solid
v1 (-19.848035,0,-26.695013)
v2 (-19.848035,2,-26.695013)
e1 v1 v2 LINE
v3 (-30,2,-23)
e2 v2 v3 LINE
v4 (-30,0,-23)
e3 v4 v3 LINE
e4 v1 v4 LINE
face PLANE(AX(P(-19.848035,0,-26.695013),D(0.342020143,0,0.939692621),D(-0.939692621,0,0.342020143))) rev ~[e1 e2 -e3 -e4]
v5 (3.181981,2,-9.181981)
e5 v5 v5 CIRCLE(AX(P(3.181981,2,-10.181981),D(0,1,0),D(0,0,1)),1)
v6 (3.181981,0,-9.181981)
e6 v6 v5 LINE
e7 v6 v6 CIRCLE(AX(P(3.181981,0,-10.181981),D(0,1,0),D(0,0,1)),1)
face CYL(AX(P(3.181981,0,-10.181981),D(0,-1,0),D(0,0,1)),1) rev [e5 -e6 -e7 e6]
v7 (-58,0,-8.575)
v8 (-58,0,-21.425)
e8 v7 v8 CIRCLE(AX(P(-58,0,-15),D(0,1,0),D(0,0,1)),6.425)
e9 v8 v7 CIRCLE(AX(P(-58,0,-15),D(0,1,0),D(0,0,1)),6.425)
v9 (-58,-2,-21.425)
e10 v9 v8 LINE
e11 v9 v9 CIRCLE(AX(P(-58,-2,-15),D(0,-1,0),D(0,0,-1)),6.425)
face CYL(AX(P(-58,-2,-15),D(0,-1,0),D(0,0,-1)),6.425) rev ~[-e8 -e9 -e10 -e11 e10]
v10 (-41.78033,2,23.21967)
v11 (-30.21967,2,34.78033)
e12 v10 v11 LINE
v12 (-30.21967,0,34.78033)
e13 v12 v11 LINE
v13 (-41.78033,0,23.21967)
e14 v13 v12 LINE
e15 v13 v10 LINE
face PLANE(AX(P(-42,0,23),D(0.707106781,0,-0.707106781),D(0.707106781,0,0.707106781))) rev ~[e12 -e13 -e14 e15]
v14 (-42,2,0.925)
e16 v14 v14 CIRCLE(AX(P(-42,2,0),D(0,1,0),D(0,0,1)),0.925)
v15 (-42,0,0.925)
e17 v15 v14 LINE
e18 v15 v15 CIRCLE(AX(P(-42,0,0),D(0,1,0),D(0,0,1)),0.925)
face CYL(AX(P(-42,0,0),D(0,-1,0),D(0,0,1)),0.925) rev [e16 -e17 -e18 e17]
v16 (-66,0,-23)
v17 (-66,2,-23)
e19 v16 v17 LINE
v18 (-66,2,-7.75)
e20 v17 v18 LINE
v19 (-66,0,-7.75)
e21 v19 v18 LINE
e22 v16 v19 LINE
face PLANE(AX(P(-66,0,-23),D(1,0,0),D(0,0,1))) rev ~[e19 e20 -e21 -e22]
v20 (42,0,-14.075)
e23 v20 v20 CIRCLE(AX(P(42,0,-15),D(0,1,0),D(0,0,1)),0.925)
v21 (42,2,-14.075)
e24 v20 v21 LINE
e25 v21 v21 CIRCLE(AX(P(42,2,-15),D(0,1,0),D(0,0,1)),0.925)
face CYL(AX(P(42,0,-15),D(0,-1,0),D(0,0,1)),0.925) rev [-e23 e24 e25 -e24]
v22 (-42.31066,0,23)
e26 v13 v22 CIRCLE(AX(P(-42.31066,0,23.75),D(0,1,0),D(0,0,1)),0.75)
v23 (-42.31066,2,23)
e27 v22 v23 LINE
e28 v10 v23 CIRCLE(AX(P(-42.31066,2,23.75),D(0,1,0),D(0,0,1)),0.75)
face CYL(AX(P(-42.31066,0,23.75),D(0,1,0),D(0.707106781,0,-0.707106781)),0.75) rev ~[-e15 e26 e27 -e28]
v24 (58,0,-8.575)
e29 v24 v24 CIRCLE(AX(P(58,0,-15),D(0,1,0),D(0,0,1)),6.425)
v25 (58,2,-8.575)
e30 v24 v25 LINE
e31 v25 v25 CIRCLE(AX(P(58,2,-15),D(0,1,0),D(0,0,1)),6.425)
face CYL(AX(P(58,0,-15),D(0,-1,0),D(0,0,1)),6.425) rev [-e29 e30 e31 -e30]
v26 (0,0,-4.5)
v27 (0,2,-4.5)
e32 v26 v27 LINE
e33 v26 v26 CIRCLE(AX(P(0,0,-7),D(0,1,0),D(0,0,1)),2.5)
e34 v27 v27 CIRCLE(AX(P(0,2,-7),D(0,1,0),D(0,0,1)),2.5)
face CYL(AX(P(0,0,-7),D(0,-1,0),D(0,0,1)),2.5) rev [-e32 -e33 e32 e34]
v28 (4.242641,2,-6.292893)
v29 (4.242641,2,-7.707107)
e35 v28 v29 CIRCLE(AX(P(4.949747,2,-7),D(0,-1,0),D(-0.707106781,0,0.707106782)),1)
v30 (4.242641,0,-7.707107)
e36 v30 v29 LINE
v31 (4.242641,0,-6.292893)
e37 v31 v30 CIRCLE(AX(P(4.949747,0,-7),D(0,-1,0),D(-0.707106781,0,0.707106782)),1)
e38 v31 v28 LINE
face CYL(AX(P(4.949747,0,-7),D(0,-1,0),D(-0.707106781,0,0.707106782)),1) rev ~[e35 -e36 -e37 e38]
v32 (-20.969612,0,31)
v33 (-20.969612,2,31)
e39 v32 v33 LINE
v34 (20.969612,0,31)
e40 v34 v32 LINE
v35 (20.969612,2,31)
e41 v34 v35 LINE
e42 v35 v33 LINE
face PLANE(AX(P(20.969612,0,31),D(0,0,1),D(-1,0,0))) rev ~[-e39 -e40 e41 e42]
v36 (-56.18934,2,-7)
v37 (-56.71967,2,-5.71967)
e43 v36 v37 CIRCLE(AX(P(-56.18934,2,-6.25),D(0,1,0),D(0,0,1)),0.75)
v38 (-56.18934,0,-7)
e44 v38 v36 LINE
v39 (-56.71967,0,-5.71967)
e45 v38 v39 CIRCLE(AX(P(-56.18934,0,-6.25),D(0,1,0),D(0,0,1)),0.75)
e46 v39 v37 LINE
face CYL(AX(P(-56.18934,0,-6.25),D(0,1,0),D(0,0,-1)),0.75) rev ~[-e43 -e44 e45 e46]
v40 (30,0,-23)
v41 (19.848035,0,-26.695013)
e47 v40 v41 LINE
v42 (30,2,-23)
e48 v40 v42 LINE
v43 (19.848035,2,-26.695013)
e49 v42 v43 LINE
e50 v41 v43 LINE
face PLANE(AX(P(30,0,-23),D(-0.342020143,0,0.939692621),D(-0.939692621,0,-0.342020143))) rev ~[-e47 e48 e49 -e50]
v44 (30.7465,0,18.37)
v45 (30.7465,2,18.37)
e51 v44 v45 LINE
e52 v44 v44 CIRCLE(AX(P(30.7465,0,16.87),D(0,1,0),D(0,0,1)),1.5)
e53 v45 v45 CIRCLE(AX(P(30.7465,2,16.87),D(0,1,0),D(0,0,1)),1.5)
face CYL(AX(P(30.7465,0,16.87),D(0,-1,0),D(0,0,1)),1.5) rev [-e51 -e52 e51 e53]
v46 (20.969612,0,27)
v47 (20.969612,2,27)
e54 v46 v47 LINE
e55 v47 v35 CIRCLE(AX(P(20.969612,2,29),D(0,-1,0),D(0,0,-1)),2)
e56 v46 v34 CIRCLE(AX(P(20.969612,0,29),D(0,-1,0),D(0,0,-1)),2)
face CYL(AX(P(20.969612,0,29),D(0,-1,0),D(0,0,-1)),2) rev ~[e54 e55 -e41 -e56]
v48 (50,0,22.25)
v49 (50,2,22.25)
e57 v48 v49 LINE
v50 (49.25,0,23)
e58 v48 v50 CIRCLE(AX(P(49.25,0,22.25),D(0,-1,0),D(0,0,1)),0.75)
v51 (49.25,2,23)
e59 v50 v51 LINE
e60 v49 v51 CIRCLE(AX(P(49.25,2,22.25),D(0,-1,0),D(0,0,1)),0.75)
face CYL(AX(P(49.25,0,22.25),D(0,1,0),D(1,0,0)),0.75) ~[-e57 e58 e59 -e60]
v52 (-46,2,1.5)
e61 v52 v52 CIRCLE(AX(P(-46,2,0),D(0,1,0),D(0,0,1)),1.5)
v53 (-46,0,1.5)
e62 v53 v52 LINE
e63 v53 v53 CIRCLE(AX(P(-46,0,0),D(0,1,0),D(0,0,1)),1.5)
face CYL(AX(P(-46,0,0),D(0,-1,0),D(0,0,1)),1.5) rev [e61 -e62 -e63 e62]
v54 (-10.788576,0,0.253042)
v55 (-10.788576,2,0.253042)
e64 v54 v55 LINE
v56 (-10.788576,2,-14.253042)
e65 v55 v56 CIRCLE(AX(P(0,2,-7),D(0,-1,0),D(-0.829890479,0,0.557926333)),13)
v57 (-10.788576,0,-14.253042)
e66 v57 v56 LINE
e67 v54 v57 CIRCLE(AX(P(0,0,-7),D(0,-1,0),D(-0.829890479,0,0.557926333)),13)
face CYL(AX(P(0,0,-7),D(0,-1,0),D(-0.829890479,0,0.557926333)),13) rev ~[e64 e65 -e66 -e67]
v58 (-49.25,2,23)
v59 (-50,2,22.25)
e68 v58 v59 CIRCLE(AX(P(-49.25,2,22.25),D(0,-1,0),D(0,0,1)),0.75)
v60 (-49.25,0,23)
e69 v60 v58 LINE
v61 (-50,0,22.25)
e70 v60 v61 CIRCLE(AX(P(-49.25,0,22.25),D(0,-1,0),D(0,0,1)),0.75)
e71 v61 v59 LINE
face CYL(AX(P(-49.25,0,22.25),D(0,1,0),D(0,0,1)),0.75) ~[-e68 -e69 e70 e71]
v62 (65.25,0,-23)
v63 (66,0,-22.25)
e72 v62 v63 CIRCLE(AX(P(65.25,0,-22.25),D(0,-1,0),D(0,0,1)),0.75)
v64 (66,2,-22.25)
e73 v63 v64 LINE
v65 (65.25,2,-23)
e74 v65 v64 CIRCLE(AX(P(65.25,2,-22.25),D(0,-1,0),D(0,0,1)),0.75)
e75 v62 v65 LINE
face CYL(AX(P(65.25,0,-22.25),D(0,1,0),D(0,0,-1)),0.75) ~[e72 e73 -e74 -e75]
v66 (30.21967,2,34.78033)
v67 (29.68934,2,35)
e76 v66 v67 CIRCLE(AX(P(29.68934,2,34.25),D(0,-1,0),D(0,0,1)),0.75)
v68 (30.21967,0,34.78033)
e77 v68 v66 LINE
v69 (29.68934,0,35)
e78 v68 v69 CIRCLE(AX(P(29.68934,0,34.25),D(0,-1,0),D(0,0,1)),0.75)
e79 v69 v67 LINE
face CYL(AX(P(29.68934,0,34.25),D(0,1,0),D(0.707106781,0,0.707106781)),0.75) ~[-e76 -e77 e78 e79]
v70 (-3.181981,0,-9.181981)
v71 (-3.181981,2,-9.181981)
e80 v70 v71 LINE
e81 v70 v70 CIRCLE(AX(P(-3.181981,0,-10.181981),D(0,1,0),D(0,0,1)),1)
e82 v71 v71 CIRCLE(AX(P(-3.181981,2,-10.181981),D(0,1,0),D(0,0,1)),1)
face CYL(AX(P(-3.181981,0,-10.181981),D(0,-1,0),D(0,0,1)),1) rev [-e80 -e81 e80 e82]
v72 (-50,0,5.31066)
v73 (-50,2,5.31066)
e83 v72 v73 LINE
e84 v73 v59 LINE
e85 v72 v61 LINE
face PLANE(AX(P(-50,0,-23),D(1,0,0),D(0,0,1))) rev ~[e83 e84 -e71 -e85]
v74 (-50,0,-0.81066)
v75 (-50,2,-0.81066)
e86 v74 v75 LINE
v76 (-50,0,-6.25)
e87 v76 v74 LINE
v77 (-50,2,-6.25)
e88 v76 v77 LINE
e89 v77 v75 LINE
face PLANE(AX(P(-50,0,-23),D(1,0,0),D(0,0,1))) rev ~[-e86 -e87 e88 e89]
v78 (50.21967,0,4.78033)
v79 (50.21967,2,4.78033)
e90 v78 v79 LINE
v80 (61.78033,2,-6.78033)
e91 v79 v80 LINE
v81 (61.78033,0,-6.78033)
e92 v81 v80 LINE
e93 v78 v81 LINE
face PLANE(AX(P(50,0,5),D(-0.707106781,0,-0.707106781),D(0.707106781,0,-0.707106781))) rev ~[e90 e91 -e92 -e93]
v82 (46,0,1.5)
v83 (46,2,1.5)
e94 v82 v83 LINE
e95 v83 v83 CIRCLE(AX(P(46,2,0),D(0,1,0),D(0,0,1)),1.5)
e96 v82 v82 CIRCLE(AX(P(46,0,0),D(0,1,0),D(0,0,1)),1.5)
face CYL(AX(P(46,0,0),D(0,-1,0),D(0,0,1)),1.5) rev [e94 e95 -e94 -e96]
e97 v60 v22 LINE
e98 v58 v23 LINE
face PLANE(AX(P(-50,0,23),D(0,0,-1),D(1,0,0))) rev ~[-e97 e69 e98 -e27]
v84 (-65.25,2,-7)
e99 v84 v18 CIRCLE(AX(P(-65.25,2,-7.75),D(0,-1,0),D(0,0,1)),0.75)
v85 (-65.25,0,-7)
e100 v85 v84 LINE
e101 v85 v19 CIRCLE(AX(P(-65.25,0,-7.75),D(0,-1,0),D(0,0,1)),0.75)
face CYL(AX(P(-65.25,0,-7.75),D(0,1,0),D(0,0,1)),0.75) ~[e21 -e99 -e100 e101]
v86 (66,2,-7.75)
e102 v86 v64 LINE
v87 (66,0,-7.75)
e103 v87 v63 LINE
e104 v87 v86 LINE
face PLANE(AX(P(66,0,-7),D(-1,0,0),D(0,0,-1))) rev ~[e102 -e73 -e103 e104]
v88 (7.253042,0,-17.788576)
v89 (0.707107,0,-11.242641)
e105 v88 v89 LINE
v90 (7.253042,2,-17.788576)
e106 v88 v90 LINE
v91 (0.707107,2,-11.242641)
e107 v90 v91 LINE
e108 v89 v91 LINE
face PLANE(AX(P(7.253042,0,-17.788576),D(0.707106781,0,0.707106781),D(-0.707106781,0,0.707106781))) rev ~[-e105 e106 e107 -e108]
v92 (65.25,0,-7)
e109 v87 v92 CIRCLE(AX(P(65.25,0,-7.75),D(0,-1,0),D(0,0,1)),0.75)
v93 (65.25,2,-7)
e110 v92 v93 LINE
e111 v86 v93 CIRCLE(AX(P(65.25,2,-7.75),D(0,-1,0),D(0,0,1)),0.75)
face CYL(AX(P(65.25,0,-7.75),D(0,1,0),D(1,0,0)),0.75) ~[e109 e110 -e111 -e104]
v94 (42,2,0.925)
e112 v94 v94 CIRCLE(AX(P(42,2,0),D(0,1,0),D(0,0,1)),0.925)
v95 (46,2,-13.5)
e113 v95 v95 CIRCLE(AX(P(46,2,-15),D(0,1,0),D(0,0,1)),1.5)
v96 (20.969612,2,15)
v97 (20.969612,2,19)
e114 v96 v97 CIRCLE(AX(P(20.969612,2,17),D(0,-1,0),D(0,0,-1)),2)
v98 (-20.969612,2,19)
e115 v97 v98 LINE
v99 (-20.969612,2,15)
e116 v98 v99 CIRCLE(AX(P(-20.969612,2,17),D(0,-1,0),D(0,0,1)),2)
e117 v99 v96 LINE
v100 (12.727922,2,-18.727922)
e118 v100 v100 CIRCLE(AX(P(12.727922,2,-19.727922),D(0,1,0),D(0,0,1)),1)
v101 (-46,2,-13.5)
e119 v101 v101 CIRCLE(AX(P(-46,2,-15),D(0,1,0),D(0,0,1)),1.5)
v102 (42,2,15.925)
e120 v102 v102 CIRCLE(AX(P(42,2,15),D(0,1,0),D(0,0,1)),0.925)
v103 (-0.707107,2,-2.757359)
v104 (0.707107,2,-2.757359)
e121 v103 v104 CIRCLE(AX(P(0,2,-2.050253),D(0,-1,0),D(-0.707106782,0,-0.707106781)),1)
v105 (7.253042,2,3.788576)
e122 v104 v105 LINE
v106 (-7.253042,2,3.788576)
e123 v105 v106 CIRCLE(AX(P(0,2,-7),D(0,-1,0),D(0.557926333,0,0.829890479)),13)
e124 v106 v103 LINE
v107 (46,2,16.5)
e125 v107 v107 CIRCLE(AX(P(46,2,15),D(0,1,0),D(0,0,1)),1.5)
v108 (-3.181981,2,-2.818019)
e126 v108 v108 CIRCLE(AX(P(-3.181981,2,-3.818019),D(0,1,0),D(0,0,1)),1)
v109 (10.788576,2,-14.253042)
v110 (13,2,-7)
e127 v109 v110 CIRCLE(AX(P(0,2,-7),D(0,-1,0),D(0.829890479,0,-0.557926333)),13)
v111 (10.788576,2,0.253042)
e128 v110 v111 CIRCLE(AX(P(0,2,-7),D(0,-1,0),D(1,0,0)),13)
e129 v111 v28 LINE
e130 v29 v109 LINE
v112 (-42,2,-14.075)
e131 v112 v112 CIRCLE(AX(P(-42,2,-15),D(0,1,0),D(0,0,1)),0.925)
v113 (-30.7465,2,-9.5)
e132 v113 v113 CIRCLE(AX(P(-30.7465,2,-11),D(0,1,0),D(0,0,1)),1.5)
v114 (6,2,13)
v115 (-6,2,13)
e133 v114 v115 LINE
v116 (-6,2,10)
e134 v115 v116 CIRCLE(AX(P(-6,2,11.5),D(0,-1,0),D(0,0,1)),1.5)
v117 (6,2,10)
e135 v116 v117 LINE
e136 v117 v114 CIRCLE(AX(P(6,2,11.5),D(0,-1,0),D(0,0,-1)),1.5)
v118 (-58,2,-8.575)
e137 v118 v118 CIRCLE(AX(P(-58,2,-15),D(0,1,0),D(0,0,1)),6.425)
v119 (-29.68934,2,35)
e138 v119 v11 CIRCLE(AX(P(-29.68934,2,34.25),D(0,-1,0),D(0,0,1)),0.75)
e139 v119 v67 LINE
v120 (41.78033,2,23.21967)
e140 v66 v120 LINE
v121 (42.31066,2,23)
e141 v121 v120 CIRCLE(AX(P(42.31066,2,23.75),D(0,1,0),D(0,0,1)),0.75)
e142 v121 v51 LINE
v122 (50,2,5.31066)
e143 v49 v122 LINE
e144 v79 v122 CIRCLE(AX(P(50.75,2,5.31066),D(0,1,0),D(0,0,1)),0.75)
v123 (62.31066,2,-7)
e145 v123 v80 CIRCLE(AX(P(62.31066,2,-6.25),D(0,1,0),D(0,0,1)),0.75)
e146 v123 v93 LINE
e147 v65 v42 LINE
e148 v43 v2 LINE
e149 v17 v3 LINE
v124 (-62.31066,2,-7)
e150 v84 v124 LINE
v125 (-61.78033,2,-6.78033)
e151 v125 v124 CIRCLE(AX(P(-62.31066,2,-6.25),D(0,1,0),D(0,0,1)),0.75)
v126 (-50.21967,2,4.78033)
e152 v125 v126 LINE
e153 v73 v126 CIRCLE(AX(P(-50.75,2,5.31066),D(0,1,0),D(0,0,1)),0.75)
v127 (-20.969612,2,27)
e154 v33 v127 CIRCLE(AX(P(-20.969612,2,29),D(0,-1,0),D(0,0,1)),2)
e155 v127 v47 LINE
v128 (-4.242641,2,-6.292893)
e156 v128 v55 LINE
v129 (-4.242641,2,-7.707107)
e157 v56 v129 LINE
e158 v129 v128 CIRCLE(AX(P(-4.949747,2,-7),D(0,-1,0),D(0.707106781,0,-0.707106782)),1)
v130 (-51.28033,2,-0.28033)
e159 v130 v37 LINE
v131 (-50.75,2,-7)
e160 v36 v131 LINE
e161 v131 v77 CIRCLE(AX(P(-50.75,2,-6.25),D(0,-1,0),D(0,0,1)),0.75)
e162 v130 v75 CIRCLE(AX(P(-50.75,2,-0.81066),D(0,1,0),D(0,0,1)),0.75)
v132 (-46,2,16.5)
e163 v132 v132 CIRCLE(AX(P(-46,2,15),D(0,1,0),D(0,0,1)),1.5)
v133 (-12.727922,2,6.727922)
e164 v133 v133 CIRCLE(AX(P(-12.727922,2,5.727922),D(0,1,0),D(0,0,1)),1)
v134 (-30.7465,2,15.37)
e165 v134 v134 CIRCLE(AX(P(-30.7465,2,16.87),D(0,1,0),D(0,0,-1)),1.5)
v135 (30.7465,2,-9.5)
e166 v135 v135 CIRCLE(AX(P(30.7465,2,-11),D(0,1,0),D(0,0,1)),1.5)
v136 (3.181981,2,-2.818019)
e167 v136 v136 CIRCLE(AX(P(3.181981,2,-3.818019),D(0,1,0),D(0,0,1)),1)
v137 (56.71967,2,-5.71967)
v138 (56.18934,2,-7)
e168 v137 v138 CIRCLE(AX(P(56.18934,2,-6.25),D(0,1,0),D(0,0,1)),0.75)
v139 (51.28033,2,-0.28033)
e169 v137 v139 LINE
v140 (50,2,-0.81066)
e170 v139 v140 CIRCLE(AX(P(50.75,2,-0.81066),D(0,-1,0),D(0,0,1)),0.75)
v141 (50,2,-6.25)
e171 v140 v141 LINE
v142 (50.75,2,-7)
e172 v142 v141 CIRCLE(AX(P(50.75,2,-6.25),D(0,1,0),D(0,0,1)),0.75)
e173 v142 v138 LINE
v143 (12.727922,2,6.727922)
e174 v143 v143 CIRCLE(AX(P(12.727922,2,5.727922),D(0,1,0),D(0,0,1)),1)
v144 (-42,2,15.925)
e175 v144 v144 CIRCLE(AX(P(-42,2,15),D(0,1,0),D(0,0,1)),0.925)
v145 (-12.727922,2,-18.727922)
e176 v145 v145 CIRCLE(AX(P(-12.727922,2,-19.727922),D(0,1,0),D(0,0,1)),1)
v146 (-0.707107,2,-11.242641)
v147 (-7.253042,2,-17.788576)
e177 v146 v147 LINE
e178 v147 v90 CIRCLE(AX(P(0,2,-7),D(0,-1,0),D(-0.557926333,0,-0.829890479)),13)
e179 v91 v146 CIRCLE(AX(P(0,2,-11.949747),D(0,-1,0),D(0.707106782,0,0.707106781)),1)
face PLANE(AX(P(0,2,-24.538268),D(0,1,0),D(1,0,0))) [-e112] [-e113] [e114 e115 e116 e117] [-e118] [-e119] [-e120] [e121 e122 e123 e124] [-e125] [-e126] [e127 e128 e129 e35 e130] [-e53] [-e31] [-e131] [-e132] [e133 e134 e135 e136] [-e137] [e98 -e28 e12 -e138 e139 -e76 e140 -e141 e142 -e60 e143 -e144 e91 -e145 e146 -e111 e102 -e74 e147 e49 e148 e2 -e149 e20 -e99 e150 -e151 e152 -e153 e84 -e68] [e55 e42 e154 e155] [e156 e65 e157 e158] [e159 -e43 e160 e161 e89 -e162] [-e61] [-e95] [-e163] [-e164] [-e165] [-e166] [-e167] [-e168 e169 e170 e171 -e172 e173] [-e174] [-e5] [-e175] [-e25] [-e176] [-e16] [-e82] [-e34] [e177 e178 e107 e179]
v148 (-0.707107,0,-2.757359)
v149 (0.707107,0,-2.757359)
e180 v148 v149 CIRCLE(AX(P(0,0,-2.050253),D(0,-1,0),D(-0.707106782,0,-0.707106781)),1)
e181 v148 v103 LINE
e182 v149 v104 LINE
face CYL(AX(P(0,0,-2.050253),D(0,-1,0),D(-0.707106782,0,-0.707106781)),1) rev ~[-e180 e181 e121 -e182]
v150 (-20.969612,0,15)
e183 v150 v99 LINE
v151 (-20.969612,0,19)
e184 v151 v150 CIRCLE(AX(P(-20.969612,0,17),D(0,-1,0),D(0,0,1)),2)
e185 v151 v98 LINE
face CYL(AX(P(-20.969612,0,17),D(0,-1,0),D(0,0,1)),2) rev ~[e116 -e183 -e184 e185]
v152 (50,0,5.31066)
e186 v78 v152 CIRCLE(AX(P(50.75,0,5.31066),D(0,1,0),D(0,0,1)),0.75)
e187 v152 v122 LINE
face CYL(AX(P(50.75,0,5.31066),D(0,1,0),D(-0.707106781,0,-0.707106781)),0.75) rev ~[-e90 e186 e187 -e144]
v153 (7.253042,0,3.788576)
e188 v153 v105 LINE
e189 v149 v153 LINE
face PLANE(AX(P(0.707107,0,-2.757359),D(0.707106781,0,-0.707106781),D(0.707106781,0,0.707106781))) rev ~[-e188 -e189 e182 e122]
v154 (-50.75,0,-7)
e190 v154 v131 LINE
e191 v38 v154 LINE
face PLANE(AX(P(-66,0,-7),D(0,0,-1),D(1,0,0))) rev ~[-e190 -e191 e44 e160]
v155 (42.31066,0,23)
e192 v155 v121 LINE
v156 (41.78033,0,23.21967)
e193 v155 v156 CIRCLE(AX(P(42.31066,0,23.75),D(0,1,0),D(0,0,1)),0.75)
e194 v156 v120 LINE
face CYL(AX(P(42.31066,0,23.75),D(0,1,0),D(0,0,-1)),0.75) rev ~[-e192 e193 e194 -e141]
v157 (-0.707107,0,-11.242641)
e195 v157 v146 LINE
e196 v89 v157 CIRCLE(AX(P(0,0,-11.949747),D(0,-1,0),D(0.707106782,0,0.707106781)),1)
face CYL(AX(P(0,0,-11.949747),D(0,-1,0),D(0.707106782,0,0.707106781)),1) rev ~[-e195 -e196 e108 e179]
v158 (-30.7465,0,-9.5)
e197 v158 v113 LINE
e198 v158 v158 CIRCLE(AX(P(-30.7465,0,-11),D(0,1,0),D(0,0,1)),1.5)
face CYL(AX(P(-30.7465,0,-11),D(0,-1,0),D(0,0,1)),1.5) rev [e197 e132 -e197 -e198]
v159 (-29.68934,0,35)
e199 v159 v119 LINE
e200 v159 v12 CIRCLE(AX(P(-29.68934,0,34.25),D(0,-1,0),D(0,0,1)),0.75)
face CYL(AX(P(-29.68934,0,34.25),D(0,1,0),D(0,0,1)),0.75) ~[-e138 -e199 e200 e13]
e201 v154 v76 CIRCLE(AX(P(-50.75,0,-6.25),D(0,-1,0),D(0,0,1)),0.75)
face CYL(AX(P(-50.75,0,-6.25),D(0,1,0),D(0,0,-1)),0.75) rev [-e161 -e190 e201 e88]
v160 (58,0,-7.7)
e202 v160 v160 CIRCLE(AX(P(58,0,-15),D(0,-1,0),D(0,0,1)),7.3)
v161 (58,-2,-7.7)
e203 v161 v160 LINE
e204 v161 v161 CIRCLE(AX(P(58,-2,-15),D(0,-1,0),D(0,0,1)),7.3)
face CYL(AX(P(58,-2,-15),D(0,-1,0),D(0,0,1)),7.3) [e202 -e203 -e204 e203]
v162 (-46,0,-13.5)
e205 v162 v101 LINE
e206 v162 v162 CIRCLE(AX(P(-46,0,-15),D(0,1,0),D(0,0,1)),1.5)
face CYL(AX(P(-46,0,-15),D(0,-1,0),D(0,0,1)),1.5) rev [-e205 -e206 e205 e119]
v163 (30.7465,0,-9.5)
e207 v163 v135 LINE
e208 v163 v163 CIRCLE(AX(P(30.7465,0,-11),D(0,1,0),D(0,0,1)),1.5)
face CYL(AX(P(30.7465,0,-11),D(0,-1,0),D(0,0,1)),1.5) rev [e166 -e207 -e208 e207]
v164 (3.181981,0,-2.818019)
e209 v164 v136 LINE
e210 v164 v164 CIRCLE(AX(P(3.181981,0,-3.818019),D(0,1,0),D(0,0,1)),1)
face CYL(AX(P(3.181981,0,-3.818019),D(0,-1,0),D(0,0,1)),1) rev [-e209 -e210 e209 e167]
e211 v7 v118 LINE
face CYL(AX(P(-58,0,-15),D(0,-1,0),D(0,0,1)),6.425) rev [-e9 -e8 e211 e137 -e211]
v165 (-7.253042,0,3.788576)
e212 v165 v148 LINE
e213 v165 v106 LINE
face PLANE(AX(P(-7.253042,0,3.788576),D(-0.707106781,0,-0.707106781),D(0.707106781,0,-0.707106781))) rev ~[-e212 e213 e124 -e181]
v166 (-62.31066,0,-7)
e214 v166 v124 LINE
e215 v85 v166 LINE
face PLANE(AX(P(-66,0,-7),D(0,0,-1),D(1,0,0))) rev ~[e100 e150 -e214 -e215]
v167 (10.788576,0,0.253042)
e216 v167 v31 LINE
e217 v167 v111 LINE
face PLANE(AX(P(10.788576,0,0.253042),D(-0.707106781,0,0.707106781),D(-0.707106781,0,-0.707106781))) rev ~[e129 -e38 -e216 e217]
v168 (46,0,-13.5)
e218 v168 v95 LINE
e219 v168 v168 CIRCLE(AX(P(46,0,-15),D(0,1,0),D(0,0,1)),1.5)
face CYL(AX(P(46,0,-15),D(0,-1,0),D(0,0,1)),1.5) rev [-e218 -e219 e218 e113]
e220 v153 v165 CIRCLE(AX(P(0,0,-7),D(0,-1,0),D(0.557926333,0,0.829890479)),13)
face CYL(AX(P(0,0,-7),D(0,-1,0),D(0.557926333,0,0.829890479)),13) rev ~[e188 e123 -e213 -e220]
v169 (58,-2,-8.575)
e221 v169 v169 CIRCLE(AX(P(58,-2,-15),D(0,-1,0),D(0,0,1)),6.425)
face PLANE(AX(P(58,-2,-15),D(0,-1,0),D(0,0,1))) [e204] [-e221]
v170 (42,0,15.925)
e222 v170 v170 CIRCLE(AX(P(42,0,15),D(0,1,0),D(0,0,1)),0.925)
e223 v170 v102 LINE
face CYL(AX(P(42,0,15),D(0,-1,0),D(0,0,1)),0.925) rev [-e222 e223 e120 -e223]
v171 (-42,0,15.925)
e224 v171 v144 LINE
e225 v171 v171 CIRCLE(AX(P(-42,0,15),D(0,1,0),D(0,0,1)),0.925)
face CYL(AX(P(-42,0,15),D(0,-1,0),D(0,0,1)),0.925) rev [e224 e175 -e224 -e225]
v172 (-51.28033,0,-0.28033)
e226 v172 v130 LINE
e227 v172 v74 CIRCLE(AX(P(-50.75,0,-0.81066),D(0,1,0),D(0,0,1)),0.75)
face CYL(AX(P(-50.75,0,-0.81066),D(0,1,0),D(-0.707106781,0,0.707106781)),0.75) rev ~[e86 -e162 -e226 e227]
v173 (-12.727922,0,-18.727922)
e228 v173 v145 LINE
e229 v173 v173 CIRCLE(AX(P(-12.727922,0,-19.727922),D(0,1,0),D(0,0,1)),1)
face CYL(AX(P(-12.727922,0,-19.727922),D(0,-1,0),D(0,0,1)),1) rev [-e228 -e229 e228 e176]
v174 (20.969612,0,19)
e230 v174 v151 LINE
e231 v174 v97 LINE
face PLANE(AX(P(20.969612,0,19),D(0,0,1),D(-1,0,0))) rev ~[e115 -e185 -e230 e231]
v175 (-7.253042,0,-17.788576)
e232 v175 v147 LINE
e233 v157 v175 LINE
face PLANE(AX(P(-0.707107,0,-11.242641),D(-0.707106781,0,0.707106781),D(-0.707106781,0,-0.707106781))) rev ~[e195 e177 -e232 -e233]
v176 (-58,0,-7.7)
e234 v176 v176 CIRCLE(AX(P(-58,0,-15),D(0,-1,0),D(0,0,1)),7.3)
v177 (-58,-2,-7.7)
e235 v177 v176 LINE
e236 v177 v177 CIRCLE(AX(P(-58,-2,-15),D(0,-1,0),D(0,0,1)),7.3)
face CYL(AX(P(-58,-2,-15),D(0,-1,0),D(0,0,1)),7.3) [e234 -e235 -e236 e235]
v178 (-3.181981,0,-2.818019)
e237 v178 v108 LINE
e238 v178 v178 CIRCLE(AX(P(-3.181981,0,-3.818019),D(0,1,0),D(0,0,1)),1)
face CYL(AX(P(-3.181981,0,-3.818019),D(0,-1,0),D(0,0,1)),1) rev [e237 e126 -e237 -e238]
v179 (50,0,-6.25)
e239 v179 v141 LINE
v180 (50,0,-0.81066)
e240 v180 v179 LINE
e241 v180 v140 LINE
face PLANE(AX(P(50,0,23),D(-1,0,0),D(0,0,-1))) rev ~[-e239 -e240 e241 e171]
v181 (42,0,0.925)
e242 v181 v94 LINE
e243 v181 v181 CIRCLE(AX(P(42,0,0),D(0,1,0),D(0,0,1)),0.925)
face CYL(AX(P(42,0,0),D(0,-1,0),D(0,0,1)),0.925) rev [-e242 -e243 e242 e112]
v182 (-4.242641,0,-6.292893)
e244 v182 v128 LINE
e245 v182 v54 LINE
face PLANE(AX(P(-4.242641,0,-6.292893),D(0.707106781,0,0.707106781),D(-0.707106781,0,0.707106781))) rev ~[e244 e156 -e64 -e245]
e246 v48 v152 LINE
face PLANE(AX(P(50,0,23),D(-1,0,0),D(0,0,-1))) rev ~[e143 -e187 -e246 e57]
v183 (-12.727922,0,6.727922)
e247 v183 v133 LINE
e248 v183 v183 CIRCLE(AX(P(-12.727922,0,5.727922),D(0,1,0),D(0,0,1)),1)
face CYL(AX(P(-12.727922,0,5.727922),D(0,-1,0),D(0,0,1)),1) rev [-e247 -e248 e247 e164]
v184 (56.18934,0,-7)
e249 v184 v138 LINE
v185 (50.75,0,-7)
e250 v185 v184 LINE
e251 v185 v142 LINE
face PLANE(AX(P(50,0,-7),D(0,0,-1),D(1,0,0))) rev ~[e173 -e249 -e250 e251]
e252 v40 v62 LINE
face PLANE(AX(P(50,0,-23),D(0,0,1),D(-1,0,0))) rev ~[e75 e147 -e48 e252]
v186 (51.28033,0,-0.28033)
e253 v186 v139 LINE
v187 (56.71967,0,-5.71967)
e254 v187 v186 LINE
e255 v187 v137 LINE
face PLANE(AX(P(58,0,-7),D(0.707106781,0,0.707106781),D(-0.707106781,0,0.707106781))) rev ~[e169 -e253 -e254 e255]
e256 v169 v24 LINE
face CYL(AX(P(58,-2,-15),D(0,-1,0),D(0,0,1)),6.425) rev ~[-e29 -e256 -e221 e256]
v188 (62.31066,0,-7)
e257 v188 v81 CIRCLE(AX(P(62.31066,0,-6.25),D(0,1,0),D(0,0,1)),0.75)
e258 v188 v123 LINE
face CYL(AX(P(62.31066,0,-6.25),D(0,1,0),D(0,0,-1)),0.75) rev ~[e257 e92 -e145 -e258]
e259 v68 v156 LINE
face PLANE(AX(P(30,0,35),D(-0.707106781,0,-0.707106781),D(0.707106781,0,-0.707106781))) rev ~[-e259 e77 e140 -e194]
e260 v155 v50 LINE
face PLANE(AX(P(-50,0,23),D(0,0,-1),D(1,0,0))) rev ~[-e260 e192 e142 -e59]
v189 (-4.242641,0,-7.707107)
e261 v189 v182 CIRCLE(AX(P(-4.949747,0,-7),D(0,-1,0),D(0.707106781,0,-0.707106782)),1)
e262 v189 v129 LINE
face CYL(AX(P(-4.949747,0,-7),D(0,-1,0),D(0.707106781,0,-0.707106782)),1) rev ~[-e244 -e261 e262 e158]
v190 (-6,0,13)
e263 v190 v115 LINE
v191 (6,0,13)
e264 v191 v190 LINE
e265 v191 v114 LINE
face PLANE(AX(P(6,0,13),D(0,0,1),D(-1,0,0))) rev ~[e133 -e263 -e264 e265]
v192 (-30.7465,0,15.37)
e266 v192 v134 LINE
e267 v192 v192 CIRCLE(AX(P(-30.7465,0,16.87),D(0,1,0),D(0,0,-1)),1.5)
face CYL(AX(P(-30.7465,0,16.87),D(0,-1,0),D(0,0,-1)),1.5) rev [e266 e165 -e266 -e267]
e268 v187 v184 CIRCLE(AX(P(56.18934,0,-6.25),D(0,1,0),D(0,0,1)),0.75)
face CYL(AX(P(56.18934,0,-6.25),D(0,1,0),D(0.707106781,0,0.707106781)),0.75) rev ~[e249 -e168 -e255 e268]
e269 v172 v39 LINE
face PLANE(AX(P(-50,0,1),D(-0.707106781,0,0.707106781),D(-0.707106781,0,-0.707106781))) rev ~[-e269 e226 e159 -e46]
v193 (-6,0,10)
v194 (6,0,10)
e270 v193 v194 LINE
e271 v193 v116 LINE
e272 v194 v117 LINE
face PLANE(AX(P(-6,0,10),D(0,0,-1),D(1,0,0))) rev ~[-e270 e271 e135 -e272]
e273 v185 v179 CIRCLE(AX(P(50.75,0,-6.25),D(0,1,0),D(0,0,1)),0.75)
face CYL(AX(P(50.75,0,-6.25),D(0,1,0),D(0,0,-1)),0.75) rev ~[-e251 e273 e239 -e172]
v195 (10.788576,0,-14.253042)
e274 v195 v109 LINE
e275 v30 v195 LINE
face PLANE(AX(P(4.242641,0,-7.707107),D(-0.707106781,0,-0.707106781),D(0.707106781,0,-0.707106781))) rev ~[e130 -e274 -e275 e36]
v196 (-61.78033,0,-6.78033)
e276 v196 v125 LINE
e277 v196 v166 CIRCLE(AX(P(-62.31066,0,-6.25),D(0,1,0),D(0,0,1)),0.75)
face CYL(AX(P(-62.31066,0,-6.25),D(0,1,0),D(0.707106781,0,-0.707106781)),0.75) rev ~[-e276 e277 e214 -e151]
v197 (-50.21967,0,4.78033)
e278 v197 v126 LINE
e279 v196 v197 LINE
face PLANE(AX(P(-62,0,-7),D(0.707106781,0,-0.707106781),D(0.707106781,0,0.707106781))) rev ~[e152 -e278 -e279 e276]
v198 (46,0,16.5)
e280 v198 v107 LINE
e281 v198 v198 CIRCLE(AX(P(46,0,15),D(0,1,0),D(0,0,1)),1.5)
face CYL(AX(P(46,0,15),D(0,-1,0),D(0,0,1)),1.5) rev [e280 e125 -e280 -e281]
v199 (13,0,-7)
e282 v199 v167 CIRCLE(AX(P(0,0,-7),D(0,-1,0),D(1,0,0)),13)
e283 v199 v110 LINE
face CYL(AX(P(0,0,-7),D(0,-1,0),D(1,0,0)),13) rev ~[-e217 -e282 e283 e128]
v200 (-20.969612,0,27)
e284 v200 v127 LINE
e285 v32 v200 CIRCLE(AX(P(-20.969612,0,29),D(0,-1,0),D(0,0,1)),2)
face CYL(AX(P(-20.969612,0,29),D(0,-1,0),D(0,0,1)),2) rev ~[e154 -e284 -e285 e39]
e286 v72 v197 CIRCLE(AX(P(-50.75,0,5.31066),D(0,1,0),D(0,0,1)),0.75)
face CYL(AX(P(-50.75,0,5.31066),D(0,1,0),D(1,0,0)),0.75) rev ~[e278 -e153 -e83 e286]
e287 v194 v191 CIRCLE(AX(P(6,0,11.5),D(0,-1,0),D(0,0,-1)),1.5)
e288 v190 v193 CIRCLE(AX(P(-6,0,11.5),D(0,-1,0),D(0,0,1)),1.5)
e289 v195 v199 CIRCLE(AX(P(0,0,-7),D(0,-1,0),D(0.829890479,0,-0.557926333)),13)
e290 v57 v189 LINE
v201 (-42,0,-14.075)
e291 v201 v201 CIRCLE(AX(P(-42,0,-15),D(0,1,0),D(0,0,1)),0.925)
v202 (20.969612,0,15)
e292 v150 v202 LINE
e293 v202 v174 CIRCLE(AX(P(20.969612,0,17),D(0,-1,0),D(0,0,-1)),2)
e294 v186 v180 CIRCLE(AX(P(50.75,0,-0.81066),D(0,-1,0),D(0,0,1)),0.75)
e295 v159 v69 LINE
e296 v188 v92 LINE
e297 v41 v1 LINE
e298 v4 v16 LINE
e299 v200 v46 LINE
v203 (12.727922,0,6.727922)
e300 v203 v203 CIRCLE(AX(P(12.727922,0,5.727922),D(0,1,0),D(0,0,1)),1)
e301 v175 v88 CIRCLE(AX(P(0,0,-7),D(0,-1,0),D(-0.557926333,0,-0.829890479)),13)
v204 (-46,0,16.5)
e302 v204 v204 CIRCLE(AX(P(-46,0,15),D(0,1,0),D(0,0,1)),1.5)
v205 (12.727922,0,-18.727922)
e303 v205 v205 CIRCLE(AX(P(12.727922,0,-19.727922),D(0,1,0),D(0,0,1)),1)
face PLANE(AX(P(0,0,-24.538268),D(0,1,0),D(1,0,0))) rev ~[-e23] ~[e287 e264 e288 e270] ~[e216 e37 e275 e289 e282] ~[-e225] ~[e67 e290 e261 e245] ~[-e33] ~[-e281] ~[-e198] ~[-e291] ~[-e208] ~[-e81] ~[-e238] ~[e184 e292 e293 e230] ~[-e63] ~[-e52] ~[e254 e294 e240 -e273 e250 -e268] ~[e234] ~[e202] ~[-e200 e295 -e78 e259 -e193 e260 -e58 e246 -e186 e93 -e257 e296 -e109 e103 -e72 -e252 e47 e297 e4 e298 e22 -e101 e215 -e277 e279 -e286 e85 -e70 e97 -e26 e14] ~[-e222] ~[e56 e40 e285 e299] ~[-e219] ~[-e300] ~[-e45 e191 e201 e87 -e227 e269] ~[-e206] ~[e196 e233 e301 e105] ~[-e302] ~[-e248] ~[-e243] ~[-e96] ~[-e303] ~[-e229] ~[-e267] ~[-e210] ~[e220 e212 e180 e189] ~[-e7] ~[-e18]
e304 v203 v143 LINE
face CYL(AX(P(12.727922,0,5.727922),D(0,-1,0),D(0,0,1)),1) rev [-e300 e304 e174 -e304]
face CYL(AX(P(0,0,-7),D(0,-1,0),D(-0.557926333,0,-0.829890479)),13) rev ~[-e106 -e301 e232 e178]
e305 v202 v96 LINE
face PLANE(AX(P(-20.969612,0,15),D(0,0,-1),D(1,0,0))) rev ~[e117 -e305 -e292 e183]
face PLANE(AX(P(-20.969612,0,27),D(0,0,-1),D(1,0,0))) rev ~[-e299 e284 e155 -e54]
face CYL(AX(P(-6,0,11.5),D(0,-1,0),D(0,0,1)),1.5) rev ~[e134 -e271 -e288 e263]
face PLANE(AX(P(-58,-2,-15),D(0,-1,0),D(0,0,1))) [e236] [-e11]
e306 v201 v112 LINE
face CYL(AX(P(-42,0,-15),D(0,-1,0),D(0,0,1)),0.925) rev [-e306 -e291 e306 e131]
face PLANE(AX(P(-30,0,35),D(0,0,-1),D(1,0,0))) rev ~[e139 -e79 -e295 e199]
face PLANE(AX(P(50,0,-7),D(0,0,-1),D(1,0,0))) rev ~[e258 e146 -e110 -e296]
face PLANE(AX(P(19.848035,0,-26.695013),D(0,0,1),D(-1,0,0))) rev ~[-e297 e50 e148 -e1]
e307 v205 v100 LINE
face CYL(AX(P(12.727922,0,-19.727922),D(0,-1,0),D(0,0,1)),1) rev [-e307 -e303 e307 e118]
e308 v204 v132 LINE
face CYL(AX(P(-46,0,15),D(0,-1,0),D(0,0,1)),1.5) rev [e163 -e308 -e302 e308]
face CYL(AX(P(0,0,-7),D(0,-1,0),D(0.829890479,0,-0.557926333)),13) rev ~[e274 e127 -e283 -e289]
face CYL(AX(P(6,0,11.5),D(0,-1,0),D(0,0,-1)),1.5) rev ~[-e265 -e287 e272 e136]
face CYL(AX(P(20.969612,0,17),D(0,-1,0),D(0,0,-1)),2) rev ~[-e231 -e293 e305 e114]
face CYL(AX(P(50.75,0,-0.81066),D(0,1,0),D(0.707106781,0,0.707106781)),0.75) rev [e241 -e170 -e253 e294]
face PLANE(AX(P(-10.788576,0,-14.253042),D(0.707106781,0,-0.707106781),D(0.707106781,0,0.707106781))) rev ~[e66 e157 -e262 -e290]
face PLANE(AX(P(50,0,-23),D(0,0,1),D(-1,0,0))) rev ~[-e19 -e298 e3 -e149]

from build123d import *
from build123d.topology import SkipClean

# Parameters (mm, degrees)
SKETCH_1_R      = 1.5
SKETCH_1_R_2    = 0.925
SKETCH_1_R_3    = 1
SKETCH_1_R_4    = 15
SKETCH_1_R_5    = 2.5
SKETCH_1_R_6    = 6.425
EXTRUDE_1_DEPTH = 2
FILLET_1_R      = 0.75
EXTRUDE_START   = 2
SKETCH_3_R      = 7.3
SKETCH_3_R_2    = 6.425
EXTRUDE_2_DEPTH = 2


with BuildPart() as part:
    # 草图1 → 凸台-拉伸1 (new body)
    # profile 1 of 11: a face of its own
    with BuildSketch(Plane(origin=(0, 0, 0), x_dir=(1, 0, 0), z_dir=(0, 1, 0))):
        Polygon((-19.848034865, 26.695013128), (-30, 23), (30, 23), (19.848034865, 26.695013128), (0, 26.695013128), align=None)
    # profile 2 of 11: a face of its own
    with BuildSketch(Plane(origin=(0, 0, 0), x_dir=(1, 0, 0), z_dir=(0, 1, 0))):
        Polygon((-19.848034865, 26.695013128), (-30, 23), (30, 23), (19.848034865, 26.695013128), (0, 26.695013128), align=None)
    # profile 3 of 11: a face of its own
    with BuildSketch(Plane(origin=(0, 0, 0), x_dir=(1, 0, 0), z_dir=(0, 1, 0))):
        Polygon((-30, 23), (-50, 23), (-50, 7), (-50, -1), (-50, -5), (-50, -23), (-42, -23), (42, -23), (50, -23), (50, -5), (50, -1), (50, 7), (50, 23), (30, 23), align=None)
        with Locations(Location((-46, -15, 0), (0, 0, 270))):
            Circle(SKETCH_1_R, mode=Mode.SUBTRACT)
        with Locations(Location((-42, -15, 0), (0, 0, 270))):
            Circle(SKETCH_1_R_2, mode=Mode.SUBTRACT)
        with Locations(Location((-30.7465, -16.87, 0), (0, 0, 90))):
            Circle(SKETCH_1_R, mode=Mode.SUBTRACT)
        with Locations(Location((-12.727922061, -5.727922061, 0), (0, 0, 270))):
            Circle(SKETCH_1_R_3, mode=Mode.SUBTRACT)
        with BuildLine():
            ThreePointArc((-20.969611628, -19), (-22.969611628, -17), (-20.969611628, -15))
            Line((-20.969611628, -15), (20.969611628, -15))
            ThreePointArc((20.969611628, -15), (22.969611628, -17), (20.969611628, -19))
            Line((20.969611628, -19), (-20.969611628, -19))
        make_face(mode=Mode.SUBTRACT)
        with Locations(Location((30.7465, -16.87, 0), (0, 0, 270))):
            Circle(SKETCH_1_R, mode=Mode.SUBTRACT)
        with BuildLine():
            ThreePointArc((-6, -13), (-7.5, -11.5), (-6, -10))
            Line((-6, -10), (6, -10))
            ThreePointArc((6, -10), (7.5, -11.5), (6, -13))
            Line((6, -13), (-6, -13))
        make_face(mode=Mode.SUBTRACT)
        with Locations(Location((12.727922061, -5.727922061, 0), (0, 0, 270))):
            Circle(SKETCH_1_R_3, mode=Mode.SUBTRACT)
        with Locations(Location((42, -15, 0), (0, 0, 270))):
            Circle(SKETCH_1_R_2, mode=Mode.SUBTRACT)
        with Locations(Location((46, -15, 0), (0, 0, 270))):
            Circle(SKETCH_1_R, mode=Mode.SUBTRACT)
        with Locations(Location((-46, 0, 0), (0, 0, 270))):
            Circle(SKETCH_1_R, mode=Mode.SUBTRACT)
        with Locations(Location((-42, 0, 0), (0, 0, 270))):
            Circle(SKETCH_1_R_2, mode=Mode.SUBTRACT)
        with Locations(Location((-30.7465, 11, 0), (0, 0, 270))):
            Circle(SKETCH_1_R, mode=Mode.SUBTRACT)
        with Locations(Location((-46, 15, 0), (0, 0, 270))):
            Circle(SKETCH_1_R, mode=Mode.SUBTRACT)
        with Locations(Location((-42, 15, 0), (0, 0, 270))):
            Circle(SKETCH_1_R_2, mode=Mode.SUBTRACT)
        with Locations(Location((-12.727922061, 19.727922061, 0), (0, 0, 270))):
            Circle(SKETCH_1_R_3, mode=Mode.SUBTRACT)
        with Locations((0, 7)):
            Circle(SKETCH_1_R_4, mode=Mode.SUBTRACT)
        with Locations(Location((30.7465, 11, 0), (0, 0, 270))):
            Circle(SKETCH_1_R, mode=Mode.SUBTRACT)
        with Locations(Location((42, 0, 0), (0, 0, 270))):
            Circle(SKETCH_1_R_2, mode=Mode.SUBTRACT)
        with Locations(Location((46, 0, 0), (0, 0, 270))):
            Circle(SKETCH_1_R, mode=Mode.SUBTRACT)
        with Locations(Location((12.727922061, 19.727922061, 0), (0, 0, 270))):
            Circle(SKETCH_1_R_3, mode=Mode.SUBTRACT)
        with Locations(Location((42, 15, 0), (0, 0, 270))):
            Circle(SKETCH_1_R_2, mode=Mode.SUBTRACT)
        with Locations(Location((46, 15, 0), (0, 0, 270))):
            Circle(SKETCH_1_R, mode=Mode.SUBTRACT)
    # profile 4 of 11: a face of its own
    with BuildSketch(Plane(origin=(0, 0, 0), x_dir=(1, 0, 0), z_dir=(0, 1, 0))):
        Polygon((-30, 23), (-50, 23), (-50, 7), (-50, -1), (-50, -5), (-50, -23), (-42, -23), (42, -23), (50, -23), (50, -5), (50, -1), (50, 7), (50, 23), (30, 23), align=None)
        with Locations(Location((-46, -15, 0), (0, 0, 270))):
            Circle(SKETCH_1_R, mode=Mode.SUBTRACT)
        with Locations(Location((-42, -15, 0), (0, 0, 270))):
            Circle(SKETCH_1_R_2, mode=Mode.SUBTRACT)
        with Locations(Location((-30.7465, -16.87, 0), (0, 0, 90))):
            Circle(SKETCH_1_R, mode=Mode.SUBTRACT)
        with Locations(Location((-12.727922061, -5.727922061, 0), (0, 0, 270))):
            Circle(SKETCH_1_R_3, mode=Mode.SUBTRACT)
        with BuildLine():
            ThreePointArc((-20.969611628, -19), (-22.969611628, -17), (-20.969611628, -15))
            Line((-20.969611628, -15), (20.969611628, -15))
            ThreePointArc((20.969611628, -15), (22.969611628, -17), (20.969611628, -19))
            Line((20.969611628, -19), (-20.969611628, -19))
        make_face(mode=Mode.SUBTRACT)
        with Locations(Location((30.7465, -16.87, 0), (0, 0, 270))):
            Circle(SKETCH_1_R, mode=Mode.SUBTRACT)
        with BuildLine():
            ThreePointArc((-6, -13), (-7.5, -11.5), (-6, -10))
            Line((-6, -10), (6, -10))
            ThreePointArc((6, -10), (7.5, -11.5), (6, -13))
            Line((6, -13), (-6, -13))
        make_face(mode=Mode.SUBTRACT)
        with Locations(Location((12.727922061, -5.727922061, 0), (0, 0, 270))):
            Circle(SKETCH_1_R_3, mode=Mode.SUBTRACT)
        with Locations(Location((42, -15, 0), (0, 0, 270))):
            Circle(SKETCH_1_R_2, mode=Mode.SUBTRACT)
        with Locations(Location((46, -15, 0), (0, 0, 270))):
            Circle(SKETCH_1_R, mode=Mode.SUBTRACT)
        with Locations(Location((-46, 0, 0), (0, 0, 270))):
            Circle(SKETCH_1_R, mode=Mode.SUBTRACT)
        with Locations(Location((-42, 0, 0), (0, 0, 270))):
            Circle(SKETCH_1_R_2, mode=Mode.SUBTRACT)
        with Locations(Location((-30.7465, 11, 0), (0, 0, 270))):
            Circle(SKETCH_1_R, mode=Mode.SUBTRACT)
        with Locations(Location((-46, 15, 0), (0, 0, 270))):
            Circle(SKETCH_1_R, mode=Mode.SUBTRACT)
        with Locations(Location((-42, 15, 0), (0, 0, 270))):
            Circle(SKETCH_1_R_2, mode=Mode.SUBTRACT)
        with Locations(Location((-12.727922061, 19.727922061, 0), (0, 0, 270))):
            Circle(SKETCH_1_R_3, mode=Mode.SUBTRACT)
        with Locations((0, 7)):
            Circle(SKETCH_1_R_4, mode=Mode.SUBTRACT)
        with Locations(Location((30.7465, 11, 0), (0, 0, 270))):
            Circle(SKETCH_1_R, mode=Mode.SUBTRACT)
        with Locations(Location((42, 0, 0), (0, 0, 270))):
            Circle(SKETCH_1_R_2, mode=Mode.SUBTRACT)
        with Locations(Location((46, 0, 0), (0, 0, 270))):
            Circle(SKETCH_1_R, mode=Mode.SUBTRACT)
        with Locations(Location((12.727922061, 19.727922061, 0), (0, 0, 270))):
            Circle(SKETCH_1_R_3, mode=Mode.SUBTRACT)
        with Locations(Location((42, 15, 0), (0, 0, 270))):
            Circle(SKETCH_1_R_2, mode=Mode.SUBTRACT)
        with Locations(Location((46, 15, 0), (0, 0, 270))):
            Circle(SKETCH_1_R, mode=Mode.SUBTRACT)
    # profile 5 of 11: a face of its own
    with BuildSketch(Plane(origin=(0, 0, 0), x_dir=(1, 0, 0), z_dir=(0, 1, 0))):
        with Locations((0, 7)):
            Circle(SKETCH_1_R_4)
        with BuildLine():
            ThreePointArc((13, 7), (12.434860091, 3.208660592), (10.788576229, -0.253042323))
            ThreePointArc((10.788576229, -0.253042323), (9.192388155, -2.192388155), (7.253042323, -3.788576229))
            ThreePointArc((7.253042323, -3.788576229), (0, -6), (-7.253042323, -3.788576229))
            ThreePointArc((-7.253042323, -3.788576229), (-9.192388155, -2.192388155), (-10.788576229, -0.253042323))
            ThreePointArc((-10.788576229, -0.253042323), (-13, 7), (-10.788576229, 14.253042323))
            ThreePointArc((-10.788576229, 14.253042323), (-9.192388155, 16.192388155), (-7.253042323, 17.788576229))
            ThreePointArc((-7.253042323, 17.788576229), (0, 20), (7.253042323, 17.788576229))
            ThreePointArc((7.253042323, 17.788576229), (9.192388155, 16.192388155), (10.788576229, 14.253042323))
            ThreePointArc((10.788576229, 14.253042323), (12.434860091, 10.791339408), (13, 7))
        make_face(mode=Mode.SUBTRACT)
    # profile 6 of 11: a face of its own
    with BuildSketch(Plane(origin=(0, 0, 0), x_dir=(1, 0, 0), z_dir=(0, 1, 0))):
        with BuildLine():
            ThreePointArc((7.253042323, -3.788576229), (9.192388155, -2.192388155), (10.788576229, -0.253042323))
            Line((10.788576229, -0.253042323), (4.242640687, 6.292893219))
            ThreePointArc((4.242640687, 6.292893219), (3.949747468, 7), (4.242640687, 7.707106781))
            Line((4.242640687, 7.707106781), (10.788576229, 14.253042323))
            ThreePointArc((10.788576229, 14.253042323), (9.192388155, 16.192388155), (7.253042323, 17.788576229))
            Line((7.253042323, 17.788576229), (0.707106781, 11.242640687))
            ThreePointArc((0.707106781, 11.242640687), (0, 10.949747468), (-0.707106781, 11.242640687))
            Line((-0.707106781, 11.242640687), (-7.253042323, 17.788576229))
            ThreePointArc((-7.253042323, 17.788576229), (-9.192388155, 16.192388155), (-10.788576229, 14.253042323))
            Line((-10.788576229, 14.253042323), (-4.242640687, 7.707106781))
            ThreePointArc((-4.242640687, 7.707106781), (-3.949747468, 7), (-4.242640687, 6.292893219))
            Line((-4.242640687, 6.292893219), (-10.788576229, -0.253042323))
            ThreePointArc((-10.788576229, -0.253042323), (-9.192388155, -2.192388155), (-7.253042323, -3.788576229))
            Line((-7.253042323, -3.788576229), (-0.707106781, 2.757359313))
            ThreePointArc((-0.707106781, 2.757359313), (0, 3.050252532), (0.707106781, 2.757359313))
            Line((0.707106781, 2.757359313), (7.253042323, -3.788576229))
        make_face()
        with Locations(Location((-3.181980515, 3.818019485, 0), (0, 0, 270))):
            Circle(SKETCH_1_R_3, mode=Mode.SUBTRACT)
        with Locations(Location((-3.181980515, 10.181980515, 0), (0, 0, 270))):
            Circle(SKETCH_1_R_3, mode=Mode.SUBTRACT)
        with Locations(Location((3.181980515, 3.818019485, 0), (0, 0, 270))):
            Circle(SKETCH_1_R_3, mode=Mode.SUBTRACT)
        with Locations(Location((0, 7, 0), (0, 0, 270))):
            Circle(SKETCH_1_R_5, mode=Mode.SUBTRACT)
        with Locations(Location((3.181980515, 10.181980515, 0), (0, 0, 270))):
            Circle(SKETCH_1_R_3, mode=Mode.SUBTRACT)
    # profile 7 of 11: a face of its own
    with BuildSketch(Plane(origin=(0, 0, 0), x_dir=(1, 0, 0), z_dir=(0, 1, 0))):
        Polygon((42, -23), (-42, -23), (-30, -35), (30, -35), align=None)
        with BuildLine():
            ThreePointArc((-20.969611628, -31), (-22.969611628, -29), (-20.969611628, -27))
            Line((-20.969611628, -27), (20.969611628, -27))
            ThreePointArc((20.969611628, -27), (22.969611628, -29), (20.969611628, -31))
            Line((20.969611628, -31), (-20.969611628, -31))
        make_face(mode=Mode.SUBTRACT)
    # profile 8 of 11: a face of its own
    with BuildSketch(Plane(origin=(0, 0, 0), x_dir=(1, 0, 0), z_dir=(0, 1, 0))):
        Polygon((-50, -5), (-50, -1), (-58, 7), (-62, 7), align=None)
    # profile 9 of 11: a face of its own
    with BuildSketch(Plane(origin=(0, 0, 0), x_dir=(1, 0, 0), z_dir=(0, 1, 0))):
        Polygon((-50, 7), (-50, 23), (-66, 23), (-66, 7), (-62, 7), (-58, 7), align=None)
        with Locations(Location((-58, 15, 0), (0, 0, 270))):
            Circle(SKETCH_1_R_6, mode=Mode.SUBTRACT)
    # profile 10 of 11: a face of its own
    with BuildSketch(Plane(origin=(0, 0, 0), x_dir=(1, 0, 0), z_dir=(0, 1, 0))):
        Polygon((66, 23), (50, 23), (50, 7), (58, 7), (62, 7), (66, 7), align=None)
        with Locations(Location((58, 15, 0), (0, 0, 270))):
            Circle(SKETCH_1_R_6, mode=Mode.SUBTRACT)
    # profile 11 of 11: a face of its own
    with BuildSketch(Plane(origin=(0, 0, 0), x_dir=(1, 0, 0), z_dir=(0, 1, 0))):
        Polygon((58, 7), (50, -1), (50, -5), (62, 7), align=None)
    extrude(amount=EXTRUDE_1_DEPTH)

    # 圆角1
    fillet_1_edges = [part.edges().sort_by_distance(p)[0] for p in [
        (66, 1, -23),
        (66, 1, -7),
        (62, 1, -7),
        (50, 1, 5),
        (50, 1, 23),
        (42, 1, 23),
        (30, 1, 35),
        (-30, 1, 35),
        (-42, 1, 23),
        (-50, 1, 23),
        (-50, 1, 5),
        (-62, 1, -7),
        (-66, 1, -7),
        (50, 1, -7),
        (50, 1, 1),
        (58, 1, -7),
        (-50, 1, 1),
        (-50, 1, -7),
        (-58, 1, -7),
    ]]
    fillet(fillet_1_edges, radius=FILLET_1_R)

    # 草图3 → 凸台-拉伸2 (add)
    # profile 1 of 2: a face of its own
    with SkipClean():  # the faces are left unmerged after this step: merging them gives an invalid solid
        with BuildSketch(Plane.XZ.offset(EXTRUDE_START)):
            with Locations(Location((-58, -15, 0), (0, 0, 90))):
                Circle(SKETCH_3_R)
            with Locations(Location((-58, -15, 0), (0, 0, 270))):
                Circle(SKETCH_3_R_2, mode=Mode.SUBTRACT)
        # profile 2 of 2: a face of its own
        with BuildSketch(Plane.XZ.offset(EXTRUDE_START)):
            with Locations(Location((58, -15, 0), (0, 0, 90))):
                Circle(SKETCH_3_R)
            with Locations(Location((58, -15, 0), (0, 0, 90))):
                Circle(SKETCH_3_R_2, mode=Mode.SUBTRACT)
        extrude(amount=-EXTRUDE_2_DEPTH)


solid = part.part
